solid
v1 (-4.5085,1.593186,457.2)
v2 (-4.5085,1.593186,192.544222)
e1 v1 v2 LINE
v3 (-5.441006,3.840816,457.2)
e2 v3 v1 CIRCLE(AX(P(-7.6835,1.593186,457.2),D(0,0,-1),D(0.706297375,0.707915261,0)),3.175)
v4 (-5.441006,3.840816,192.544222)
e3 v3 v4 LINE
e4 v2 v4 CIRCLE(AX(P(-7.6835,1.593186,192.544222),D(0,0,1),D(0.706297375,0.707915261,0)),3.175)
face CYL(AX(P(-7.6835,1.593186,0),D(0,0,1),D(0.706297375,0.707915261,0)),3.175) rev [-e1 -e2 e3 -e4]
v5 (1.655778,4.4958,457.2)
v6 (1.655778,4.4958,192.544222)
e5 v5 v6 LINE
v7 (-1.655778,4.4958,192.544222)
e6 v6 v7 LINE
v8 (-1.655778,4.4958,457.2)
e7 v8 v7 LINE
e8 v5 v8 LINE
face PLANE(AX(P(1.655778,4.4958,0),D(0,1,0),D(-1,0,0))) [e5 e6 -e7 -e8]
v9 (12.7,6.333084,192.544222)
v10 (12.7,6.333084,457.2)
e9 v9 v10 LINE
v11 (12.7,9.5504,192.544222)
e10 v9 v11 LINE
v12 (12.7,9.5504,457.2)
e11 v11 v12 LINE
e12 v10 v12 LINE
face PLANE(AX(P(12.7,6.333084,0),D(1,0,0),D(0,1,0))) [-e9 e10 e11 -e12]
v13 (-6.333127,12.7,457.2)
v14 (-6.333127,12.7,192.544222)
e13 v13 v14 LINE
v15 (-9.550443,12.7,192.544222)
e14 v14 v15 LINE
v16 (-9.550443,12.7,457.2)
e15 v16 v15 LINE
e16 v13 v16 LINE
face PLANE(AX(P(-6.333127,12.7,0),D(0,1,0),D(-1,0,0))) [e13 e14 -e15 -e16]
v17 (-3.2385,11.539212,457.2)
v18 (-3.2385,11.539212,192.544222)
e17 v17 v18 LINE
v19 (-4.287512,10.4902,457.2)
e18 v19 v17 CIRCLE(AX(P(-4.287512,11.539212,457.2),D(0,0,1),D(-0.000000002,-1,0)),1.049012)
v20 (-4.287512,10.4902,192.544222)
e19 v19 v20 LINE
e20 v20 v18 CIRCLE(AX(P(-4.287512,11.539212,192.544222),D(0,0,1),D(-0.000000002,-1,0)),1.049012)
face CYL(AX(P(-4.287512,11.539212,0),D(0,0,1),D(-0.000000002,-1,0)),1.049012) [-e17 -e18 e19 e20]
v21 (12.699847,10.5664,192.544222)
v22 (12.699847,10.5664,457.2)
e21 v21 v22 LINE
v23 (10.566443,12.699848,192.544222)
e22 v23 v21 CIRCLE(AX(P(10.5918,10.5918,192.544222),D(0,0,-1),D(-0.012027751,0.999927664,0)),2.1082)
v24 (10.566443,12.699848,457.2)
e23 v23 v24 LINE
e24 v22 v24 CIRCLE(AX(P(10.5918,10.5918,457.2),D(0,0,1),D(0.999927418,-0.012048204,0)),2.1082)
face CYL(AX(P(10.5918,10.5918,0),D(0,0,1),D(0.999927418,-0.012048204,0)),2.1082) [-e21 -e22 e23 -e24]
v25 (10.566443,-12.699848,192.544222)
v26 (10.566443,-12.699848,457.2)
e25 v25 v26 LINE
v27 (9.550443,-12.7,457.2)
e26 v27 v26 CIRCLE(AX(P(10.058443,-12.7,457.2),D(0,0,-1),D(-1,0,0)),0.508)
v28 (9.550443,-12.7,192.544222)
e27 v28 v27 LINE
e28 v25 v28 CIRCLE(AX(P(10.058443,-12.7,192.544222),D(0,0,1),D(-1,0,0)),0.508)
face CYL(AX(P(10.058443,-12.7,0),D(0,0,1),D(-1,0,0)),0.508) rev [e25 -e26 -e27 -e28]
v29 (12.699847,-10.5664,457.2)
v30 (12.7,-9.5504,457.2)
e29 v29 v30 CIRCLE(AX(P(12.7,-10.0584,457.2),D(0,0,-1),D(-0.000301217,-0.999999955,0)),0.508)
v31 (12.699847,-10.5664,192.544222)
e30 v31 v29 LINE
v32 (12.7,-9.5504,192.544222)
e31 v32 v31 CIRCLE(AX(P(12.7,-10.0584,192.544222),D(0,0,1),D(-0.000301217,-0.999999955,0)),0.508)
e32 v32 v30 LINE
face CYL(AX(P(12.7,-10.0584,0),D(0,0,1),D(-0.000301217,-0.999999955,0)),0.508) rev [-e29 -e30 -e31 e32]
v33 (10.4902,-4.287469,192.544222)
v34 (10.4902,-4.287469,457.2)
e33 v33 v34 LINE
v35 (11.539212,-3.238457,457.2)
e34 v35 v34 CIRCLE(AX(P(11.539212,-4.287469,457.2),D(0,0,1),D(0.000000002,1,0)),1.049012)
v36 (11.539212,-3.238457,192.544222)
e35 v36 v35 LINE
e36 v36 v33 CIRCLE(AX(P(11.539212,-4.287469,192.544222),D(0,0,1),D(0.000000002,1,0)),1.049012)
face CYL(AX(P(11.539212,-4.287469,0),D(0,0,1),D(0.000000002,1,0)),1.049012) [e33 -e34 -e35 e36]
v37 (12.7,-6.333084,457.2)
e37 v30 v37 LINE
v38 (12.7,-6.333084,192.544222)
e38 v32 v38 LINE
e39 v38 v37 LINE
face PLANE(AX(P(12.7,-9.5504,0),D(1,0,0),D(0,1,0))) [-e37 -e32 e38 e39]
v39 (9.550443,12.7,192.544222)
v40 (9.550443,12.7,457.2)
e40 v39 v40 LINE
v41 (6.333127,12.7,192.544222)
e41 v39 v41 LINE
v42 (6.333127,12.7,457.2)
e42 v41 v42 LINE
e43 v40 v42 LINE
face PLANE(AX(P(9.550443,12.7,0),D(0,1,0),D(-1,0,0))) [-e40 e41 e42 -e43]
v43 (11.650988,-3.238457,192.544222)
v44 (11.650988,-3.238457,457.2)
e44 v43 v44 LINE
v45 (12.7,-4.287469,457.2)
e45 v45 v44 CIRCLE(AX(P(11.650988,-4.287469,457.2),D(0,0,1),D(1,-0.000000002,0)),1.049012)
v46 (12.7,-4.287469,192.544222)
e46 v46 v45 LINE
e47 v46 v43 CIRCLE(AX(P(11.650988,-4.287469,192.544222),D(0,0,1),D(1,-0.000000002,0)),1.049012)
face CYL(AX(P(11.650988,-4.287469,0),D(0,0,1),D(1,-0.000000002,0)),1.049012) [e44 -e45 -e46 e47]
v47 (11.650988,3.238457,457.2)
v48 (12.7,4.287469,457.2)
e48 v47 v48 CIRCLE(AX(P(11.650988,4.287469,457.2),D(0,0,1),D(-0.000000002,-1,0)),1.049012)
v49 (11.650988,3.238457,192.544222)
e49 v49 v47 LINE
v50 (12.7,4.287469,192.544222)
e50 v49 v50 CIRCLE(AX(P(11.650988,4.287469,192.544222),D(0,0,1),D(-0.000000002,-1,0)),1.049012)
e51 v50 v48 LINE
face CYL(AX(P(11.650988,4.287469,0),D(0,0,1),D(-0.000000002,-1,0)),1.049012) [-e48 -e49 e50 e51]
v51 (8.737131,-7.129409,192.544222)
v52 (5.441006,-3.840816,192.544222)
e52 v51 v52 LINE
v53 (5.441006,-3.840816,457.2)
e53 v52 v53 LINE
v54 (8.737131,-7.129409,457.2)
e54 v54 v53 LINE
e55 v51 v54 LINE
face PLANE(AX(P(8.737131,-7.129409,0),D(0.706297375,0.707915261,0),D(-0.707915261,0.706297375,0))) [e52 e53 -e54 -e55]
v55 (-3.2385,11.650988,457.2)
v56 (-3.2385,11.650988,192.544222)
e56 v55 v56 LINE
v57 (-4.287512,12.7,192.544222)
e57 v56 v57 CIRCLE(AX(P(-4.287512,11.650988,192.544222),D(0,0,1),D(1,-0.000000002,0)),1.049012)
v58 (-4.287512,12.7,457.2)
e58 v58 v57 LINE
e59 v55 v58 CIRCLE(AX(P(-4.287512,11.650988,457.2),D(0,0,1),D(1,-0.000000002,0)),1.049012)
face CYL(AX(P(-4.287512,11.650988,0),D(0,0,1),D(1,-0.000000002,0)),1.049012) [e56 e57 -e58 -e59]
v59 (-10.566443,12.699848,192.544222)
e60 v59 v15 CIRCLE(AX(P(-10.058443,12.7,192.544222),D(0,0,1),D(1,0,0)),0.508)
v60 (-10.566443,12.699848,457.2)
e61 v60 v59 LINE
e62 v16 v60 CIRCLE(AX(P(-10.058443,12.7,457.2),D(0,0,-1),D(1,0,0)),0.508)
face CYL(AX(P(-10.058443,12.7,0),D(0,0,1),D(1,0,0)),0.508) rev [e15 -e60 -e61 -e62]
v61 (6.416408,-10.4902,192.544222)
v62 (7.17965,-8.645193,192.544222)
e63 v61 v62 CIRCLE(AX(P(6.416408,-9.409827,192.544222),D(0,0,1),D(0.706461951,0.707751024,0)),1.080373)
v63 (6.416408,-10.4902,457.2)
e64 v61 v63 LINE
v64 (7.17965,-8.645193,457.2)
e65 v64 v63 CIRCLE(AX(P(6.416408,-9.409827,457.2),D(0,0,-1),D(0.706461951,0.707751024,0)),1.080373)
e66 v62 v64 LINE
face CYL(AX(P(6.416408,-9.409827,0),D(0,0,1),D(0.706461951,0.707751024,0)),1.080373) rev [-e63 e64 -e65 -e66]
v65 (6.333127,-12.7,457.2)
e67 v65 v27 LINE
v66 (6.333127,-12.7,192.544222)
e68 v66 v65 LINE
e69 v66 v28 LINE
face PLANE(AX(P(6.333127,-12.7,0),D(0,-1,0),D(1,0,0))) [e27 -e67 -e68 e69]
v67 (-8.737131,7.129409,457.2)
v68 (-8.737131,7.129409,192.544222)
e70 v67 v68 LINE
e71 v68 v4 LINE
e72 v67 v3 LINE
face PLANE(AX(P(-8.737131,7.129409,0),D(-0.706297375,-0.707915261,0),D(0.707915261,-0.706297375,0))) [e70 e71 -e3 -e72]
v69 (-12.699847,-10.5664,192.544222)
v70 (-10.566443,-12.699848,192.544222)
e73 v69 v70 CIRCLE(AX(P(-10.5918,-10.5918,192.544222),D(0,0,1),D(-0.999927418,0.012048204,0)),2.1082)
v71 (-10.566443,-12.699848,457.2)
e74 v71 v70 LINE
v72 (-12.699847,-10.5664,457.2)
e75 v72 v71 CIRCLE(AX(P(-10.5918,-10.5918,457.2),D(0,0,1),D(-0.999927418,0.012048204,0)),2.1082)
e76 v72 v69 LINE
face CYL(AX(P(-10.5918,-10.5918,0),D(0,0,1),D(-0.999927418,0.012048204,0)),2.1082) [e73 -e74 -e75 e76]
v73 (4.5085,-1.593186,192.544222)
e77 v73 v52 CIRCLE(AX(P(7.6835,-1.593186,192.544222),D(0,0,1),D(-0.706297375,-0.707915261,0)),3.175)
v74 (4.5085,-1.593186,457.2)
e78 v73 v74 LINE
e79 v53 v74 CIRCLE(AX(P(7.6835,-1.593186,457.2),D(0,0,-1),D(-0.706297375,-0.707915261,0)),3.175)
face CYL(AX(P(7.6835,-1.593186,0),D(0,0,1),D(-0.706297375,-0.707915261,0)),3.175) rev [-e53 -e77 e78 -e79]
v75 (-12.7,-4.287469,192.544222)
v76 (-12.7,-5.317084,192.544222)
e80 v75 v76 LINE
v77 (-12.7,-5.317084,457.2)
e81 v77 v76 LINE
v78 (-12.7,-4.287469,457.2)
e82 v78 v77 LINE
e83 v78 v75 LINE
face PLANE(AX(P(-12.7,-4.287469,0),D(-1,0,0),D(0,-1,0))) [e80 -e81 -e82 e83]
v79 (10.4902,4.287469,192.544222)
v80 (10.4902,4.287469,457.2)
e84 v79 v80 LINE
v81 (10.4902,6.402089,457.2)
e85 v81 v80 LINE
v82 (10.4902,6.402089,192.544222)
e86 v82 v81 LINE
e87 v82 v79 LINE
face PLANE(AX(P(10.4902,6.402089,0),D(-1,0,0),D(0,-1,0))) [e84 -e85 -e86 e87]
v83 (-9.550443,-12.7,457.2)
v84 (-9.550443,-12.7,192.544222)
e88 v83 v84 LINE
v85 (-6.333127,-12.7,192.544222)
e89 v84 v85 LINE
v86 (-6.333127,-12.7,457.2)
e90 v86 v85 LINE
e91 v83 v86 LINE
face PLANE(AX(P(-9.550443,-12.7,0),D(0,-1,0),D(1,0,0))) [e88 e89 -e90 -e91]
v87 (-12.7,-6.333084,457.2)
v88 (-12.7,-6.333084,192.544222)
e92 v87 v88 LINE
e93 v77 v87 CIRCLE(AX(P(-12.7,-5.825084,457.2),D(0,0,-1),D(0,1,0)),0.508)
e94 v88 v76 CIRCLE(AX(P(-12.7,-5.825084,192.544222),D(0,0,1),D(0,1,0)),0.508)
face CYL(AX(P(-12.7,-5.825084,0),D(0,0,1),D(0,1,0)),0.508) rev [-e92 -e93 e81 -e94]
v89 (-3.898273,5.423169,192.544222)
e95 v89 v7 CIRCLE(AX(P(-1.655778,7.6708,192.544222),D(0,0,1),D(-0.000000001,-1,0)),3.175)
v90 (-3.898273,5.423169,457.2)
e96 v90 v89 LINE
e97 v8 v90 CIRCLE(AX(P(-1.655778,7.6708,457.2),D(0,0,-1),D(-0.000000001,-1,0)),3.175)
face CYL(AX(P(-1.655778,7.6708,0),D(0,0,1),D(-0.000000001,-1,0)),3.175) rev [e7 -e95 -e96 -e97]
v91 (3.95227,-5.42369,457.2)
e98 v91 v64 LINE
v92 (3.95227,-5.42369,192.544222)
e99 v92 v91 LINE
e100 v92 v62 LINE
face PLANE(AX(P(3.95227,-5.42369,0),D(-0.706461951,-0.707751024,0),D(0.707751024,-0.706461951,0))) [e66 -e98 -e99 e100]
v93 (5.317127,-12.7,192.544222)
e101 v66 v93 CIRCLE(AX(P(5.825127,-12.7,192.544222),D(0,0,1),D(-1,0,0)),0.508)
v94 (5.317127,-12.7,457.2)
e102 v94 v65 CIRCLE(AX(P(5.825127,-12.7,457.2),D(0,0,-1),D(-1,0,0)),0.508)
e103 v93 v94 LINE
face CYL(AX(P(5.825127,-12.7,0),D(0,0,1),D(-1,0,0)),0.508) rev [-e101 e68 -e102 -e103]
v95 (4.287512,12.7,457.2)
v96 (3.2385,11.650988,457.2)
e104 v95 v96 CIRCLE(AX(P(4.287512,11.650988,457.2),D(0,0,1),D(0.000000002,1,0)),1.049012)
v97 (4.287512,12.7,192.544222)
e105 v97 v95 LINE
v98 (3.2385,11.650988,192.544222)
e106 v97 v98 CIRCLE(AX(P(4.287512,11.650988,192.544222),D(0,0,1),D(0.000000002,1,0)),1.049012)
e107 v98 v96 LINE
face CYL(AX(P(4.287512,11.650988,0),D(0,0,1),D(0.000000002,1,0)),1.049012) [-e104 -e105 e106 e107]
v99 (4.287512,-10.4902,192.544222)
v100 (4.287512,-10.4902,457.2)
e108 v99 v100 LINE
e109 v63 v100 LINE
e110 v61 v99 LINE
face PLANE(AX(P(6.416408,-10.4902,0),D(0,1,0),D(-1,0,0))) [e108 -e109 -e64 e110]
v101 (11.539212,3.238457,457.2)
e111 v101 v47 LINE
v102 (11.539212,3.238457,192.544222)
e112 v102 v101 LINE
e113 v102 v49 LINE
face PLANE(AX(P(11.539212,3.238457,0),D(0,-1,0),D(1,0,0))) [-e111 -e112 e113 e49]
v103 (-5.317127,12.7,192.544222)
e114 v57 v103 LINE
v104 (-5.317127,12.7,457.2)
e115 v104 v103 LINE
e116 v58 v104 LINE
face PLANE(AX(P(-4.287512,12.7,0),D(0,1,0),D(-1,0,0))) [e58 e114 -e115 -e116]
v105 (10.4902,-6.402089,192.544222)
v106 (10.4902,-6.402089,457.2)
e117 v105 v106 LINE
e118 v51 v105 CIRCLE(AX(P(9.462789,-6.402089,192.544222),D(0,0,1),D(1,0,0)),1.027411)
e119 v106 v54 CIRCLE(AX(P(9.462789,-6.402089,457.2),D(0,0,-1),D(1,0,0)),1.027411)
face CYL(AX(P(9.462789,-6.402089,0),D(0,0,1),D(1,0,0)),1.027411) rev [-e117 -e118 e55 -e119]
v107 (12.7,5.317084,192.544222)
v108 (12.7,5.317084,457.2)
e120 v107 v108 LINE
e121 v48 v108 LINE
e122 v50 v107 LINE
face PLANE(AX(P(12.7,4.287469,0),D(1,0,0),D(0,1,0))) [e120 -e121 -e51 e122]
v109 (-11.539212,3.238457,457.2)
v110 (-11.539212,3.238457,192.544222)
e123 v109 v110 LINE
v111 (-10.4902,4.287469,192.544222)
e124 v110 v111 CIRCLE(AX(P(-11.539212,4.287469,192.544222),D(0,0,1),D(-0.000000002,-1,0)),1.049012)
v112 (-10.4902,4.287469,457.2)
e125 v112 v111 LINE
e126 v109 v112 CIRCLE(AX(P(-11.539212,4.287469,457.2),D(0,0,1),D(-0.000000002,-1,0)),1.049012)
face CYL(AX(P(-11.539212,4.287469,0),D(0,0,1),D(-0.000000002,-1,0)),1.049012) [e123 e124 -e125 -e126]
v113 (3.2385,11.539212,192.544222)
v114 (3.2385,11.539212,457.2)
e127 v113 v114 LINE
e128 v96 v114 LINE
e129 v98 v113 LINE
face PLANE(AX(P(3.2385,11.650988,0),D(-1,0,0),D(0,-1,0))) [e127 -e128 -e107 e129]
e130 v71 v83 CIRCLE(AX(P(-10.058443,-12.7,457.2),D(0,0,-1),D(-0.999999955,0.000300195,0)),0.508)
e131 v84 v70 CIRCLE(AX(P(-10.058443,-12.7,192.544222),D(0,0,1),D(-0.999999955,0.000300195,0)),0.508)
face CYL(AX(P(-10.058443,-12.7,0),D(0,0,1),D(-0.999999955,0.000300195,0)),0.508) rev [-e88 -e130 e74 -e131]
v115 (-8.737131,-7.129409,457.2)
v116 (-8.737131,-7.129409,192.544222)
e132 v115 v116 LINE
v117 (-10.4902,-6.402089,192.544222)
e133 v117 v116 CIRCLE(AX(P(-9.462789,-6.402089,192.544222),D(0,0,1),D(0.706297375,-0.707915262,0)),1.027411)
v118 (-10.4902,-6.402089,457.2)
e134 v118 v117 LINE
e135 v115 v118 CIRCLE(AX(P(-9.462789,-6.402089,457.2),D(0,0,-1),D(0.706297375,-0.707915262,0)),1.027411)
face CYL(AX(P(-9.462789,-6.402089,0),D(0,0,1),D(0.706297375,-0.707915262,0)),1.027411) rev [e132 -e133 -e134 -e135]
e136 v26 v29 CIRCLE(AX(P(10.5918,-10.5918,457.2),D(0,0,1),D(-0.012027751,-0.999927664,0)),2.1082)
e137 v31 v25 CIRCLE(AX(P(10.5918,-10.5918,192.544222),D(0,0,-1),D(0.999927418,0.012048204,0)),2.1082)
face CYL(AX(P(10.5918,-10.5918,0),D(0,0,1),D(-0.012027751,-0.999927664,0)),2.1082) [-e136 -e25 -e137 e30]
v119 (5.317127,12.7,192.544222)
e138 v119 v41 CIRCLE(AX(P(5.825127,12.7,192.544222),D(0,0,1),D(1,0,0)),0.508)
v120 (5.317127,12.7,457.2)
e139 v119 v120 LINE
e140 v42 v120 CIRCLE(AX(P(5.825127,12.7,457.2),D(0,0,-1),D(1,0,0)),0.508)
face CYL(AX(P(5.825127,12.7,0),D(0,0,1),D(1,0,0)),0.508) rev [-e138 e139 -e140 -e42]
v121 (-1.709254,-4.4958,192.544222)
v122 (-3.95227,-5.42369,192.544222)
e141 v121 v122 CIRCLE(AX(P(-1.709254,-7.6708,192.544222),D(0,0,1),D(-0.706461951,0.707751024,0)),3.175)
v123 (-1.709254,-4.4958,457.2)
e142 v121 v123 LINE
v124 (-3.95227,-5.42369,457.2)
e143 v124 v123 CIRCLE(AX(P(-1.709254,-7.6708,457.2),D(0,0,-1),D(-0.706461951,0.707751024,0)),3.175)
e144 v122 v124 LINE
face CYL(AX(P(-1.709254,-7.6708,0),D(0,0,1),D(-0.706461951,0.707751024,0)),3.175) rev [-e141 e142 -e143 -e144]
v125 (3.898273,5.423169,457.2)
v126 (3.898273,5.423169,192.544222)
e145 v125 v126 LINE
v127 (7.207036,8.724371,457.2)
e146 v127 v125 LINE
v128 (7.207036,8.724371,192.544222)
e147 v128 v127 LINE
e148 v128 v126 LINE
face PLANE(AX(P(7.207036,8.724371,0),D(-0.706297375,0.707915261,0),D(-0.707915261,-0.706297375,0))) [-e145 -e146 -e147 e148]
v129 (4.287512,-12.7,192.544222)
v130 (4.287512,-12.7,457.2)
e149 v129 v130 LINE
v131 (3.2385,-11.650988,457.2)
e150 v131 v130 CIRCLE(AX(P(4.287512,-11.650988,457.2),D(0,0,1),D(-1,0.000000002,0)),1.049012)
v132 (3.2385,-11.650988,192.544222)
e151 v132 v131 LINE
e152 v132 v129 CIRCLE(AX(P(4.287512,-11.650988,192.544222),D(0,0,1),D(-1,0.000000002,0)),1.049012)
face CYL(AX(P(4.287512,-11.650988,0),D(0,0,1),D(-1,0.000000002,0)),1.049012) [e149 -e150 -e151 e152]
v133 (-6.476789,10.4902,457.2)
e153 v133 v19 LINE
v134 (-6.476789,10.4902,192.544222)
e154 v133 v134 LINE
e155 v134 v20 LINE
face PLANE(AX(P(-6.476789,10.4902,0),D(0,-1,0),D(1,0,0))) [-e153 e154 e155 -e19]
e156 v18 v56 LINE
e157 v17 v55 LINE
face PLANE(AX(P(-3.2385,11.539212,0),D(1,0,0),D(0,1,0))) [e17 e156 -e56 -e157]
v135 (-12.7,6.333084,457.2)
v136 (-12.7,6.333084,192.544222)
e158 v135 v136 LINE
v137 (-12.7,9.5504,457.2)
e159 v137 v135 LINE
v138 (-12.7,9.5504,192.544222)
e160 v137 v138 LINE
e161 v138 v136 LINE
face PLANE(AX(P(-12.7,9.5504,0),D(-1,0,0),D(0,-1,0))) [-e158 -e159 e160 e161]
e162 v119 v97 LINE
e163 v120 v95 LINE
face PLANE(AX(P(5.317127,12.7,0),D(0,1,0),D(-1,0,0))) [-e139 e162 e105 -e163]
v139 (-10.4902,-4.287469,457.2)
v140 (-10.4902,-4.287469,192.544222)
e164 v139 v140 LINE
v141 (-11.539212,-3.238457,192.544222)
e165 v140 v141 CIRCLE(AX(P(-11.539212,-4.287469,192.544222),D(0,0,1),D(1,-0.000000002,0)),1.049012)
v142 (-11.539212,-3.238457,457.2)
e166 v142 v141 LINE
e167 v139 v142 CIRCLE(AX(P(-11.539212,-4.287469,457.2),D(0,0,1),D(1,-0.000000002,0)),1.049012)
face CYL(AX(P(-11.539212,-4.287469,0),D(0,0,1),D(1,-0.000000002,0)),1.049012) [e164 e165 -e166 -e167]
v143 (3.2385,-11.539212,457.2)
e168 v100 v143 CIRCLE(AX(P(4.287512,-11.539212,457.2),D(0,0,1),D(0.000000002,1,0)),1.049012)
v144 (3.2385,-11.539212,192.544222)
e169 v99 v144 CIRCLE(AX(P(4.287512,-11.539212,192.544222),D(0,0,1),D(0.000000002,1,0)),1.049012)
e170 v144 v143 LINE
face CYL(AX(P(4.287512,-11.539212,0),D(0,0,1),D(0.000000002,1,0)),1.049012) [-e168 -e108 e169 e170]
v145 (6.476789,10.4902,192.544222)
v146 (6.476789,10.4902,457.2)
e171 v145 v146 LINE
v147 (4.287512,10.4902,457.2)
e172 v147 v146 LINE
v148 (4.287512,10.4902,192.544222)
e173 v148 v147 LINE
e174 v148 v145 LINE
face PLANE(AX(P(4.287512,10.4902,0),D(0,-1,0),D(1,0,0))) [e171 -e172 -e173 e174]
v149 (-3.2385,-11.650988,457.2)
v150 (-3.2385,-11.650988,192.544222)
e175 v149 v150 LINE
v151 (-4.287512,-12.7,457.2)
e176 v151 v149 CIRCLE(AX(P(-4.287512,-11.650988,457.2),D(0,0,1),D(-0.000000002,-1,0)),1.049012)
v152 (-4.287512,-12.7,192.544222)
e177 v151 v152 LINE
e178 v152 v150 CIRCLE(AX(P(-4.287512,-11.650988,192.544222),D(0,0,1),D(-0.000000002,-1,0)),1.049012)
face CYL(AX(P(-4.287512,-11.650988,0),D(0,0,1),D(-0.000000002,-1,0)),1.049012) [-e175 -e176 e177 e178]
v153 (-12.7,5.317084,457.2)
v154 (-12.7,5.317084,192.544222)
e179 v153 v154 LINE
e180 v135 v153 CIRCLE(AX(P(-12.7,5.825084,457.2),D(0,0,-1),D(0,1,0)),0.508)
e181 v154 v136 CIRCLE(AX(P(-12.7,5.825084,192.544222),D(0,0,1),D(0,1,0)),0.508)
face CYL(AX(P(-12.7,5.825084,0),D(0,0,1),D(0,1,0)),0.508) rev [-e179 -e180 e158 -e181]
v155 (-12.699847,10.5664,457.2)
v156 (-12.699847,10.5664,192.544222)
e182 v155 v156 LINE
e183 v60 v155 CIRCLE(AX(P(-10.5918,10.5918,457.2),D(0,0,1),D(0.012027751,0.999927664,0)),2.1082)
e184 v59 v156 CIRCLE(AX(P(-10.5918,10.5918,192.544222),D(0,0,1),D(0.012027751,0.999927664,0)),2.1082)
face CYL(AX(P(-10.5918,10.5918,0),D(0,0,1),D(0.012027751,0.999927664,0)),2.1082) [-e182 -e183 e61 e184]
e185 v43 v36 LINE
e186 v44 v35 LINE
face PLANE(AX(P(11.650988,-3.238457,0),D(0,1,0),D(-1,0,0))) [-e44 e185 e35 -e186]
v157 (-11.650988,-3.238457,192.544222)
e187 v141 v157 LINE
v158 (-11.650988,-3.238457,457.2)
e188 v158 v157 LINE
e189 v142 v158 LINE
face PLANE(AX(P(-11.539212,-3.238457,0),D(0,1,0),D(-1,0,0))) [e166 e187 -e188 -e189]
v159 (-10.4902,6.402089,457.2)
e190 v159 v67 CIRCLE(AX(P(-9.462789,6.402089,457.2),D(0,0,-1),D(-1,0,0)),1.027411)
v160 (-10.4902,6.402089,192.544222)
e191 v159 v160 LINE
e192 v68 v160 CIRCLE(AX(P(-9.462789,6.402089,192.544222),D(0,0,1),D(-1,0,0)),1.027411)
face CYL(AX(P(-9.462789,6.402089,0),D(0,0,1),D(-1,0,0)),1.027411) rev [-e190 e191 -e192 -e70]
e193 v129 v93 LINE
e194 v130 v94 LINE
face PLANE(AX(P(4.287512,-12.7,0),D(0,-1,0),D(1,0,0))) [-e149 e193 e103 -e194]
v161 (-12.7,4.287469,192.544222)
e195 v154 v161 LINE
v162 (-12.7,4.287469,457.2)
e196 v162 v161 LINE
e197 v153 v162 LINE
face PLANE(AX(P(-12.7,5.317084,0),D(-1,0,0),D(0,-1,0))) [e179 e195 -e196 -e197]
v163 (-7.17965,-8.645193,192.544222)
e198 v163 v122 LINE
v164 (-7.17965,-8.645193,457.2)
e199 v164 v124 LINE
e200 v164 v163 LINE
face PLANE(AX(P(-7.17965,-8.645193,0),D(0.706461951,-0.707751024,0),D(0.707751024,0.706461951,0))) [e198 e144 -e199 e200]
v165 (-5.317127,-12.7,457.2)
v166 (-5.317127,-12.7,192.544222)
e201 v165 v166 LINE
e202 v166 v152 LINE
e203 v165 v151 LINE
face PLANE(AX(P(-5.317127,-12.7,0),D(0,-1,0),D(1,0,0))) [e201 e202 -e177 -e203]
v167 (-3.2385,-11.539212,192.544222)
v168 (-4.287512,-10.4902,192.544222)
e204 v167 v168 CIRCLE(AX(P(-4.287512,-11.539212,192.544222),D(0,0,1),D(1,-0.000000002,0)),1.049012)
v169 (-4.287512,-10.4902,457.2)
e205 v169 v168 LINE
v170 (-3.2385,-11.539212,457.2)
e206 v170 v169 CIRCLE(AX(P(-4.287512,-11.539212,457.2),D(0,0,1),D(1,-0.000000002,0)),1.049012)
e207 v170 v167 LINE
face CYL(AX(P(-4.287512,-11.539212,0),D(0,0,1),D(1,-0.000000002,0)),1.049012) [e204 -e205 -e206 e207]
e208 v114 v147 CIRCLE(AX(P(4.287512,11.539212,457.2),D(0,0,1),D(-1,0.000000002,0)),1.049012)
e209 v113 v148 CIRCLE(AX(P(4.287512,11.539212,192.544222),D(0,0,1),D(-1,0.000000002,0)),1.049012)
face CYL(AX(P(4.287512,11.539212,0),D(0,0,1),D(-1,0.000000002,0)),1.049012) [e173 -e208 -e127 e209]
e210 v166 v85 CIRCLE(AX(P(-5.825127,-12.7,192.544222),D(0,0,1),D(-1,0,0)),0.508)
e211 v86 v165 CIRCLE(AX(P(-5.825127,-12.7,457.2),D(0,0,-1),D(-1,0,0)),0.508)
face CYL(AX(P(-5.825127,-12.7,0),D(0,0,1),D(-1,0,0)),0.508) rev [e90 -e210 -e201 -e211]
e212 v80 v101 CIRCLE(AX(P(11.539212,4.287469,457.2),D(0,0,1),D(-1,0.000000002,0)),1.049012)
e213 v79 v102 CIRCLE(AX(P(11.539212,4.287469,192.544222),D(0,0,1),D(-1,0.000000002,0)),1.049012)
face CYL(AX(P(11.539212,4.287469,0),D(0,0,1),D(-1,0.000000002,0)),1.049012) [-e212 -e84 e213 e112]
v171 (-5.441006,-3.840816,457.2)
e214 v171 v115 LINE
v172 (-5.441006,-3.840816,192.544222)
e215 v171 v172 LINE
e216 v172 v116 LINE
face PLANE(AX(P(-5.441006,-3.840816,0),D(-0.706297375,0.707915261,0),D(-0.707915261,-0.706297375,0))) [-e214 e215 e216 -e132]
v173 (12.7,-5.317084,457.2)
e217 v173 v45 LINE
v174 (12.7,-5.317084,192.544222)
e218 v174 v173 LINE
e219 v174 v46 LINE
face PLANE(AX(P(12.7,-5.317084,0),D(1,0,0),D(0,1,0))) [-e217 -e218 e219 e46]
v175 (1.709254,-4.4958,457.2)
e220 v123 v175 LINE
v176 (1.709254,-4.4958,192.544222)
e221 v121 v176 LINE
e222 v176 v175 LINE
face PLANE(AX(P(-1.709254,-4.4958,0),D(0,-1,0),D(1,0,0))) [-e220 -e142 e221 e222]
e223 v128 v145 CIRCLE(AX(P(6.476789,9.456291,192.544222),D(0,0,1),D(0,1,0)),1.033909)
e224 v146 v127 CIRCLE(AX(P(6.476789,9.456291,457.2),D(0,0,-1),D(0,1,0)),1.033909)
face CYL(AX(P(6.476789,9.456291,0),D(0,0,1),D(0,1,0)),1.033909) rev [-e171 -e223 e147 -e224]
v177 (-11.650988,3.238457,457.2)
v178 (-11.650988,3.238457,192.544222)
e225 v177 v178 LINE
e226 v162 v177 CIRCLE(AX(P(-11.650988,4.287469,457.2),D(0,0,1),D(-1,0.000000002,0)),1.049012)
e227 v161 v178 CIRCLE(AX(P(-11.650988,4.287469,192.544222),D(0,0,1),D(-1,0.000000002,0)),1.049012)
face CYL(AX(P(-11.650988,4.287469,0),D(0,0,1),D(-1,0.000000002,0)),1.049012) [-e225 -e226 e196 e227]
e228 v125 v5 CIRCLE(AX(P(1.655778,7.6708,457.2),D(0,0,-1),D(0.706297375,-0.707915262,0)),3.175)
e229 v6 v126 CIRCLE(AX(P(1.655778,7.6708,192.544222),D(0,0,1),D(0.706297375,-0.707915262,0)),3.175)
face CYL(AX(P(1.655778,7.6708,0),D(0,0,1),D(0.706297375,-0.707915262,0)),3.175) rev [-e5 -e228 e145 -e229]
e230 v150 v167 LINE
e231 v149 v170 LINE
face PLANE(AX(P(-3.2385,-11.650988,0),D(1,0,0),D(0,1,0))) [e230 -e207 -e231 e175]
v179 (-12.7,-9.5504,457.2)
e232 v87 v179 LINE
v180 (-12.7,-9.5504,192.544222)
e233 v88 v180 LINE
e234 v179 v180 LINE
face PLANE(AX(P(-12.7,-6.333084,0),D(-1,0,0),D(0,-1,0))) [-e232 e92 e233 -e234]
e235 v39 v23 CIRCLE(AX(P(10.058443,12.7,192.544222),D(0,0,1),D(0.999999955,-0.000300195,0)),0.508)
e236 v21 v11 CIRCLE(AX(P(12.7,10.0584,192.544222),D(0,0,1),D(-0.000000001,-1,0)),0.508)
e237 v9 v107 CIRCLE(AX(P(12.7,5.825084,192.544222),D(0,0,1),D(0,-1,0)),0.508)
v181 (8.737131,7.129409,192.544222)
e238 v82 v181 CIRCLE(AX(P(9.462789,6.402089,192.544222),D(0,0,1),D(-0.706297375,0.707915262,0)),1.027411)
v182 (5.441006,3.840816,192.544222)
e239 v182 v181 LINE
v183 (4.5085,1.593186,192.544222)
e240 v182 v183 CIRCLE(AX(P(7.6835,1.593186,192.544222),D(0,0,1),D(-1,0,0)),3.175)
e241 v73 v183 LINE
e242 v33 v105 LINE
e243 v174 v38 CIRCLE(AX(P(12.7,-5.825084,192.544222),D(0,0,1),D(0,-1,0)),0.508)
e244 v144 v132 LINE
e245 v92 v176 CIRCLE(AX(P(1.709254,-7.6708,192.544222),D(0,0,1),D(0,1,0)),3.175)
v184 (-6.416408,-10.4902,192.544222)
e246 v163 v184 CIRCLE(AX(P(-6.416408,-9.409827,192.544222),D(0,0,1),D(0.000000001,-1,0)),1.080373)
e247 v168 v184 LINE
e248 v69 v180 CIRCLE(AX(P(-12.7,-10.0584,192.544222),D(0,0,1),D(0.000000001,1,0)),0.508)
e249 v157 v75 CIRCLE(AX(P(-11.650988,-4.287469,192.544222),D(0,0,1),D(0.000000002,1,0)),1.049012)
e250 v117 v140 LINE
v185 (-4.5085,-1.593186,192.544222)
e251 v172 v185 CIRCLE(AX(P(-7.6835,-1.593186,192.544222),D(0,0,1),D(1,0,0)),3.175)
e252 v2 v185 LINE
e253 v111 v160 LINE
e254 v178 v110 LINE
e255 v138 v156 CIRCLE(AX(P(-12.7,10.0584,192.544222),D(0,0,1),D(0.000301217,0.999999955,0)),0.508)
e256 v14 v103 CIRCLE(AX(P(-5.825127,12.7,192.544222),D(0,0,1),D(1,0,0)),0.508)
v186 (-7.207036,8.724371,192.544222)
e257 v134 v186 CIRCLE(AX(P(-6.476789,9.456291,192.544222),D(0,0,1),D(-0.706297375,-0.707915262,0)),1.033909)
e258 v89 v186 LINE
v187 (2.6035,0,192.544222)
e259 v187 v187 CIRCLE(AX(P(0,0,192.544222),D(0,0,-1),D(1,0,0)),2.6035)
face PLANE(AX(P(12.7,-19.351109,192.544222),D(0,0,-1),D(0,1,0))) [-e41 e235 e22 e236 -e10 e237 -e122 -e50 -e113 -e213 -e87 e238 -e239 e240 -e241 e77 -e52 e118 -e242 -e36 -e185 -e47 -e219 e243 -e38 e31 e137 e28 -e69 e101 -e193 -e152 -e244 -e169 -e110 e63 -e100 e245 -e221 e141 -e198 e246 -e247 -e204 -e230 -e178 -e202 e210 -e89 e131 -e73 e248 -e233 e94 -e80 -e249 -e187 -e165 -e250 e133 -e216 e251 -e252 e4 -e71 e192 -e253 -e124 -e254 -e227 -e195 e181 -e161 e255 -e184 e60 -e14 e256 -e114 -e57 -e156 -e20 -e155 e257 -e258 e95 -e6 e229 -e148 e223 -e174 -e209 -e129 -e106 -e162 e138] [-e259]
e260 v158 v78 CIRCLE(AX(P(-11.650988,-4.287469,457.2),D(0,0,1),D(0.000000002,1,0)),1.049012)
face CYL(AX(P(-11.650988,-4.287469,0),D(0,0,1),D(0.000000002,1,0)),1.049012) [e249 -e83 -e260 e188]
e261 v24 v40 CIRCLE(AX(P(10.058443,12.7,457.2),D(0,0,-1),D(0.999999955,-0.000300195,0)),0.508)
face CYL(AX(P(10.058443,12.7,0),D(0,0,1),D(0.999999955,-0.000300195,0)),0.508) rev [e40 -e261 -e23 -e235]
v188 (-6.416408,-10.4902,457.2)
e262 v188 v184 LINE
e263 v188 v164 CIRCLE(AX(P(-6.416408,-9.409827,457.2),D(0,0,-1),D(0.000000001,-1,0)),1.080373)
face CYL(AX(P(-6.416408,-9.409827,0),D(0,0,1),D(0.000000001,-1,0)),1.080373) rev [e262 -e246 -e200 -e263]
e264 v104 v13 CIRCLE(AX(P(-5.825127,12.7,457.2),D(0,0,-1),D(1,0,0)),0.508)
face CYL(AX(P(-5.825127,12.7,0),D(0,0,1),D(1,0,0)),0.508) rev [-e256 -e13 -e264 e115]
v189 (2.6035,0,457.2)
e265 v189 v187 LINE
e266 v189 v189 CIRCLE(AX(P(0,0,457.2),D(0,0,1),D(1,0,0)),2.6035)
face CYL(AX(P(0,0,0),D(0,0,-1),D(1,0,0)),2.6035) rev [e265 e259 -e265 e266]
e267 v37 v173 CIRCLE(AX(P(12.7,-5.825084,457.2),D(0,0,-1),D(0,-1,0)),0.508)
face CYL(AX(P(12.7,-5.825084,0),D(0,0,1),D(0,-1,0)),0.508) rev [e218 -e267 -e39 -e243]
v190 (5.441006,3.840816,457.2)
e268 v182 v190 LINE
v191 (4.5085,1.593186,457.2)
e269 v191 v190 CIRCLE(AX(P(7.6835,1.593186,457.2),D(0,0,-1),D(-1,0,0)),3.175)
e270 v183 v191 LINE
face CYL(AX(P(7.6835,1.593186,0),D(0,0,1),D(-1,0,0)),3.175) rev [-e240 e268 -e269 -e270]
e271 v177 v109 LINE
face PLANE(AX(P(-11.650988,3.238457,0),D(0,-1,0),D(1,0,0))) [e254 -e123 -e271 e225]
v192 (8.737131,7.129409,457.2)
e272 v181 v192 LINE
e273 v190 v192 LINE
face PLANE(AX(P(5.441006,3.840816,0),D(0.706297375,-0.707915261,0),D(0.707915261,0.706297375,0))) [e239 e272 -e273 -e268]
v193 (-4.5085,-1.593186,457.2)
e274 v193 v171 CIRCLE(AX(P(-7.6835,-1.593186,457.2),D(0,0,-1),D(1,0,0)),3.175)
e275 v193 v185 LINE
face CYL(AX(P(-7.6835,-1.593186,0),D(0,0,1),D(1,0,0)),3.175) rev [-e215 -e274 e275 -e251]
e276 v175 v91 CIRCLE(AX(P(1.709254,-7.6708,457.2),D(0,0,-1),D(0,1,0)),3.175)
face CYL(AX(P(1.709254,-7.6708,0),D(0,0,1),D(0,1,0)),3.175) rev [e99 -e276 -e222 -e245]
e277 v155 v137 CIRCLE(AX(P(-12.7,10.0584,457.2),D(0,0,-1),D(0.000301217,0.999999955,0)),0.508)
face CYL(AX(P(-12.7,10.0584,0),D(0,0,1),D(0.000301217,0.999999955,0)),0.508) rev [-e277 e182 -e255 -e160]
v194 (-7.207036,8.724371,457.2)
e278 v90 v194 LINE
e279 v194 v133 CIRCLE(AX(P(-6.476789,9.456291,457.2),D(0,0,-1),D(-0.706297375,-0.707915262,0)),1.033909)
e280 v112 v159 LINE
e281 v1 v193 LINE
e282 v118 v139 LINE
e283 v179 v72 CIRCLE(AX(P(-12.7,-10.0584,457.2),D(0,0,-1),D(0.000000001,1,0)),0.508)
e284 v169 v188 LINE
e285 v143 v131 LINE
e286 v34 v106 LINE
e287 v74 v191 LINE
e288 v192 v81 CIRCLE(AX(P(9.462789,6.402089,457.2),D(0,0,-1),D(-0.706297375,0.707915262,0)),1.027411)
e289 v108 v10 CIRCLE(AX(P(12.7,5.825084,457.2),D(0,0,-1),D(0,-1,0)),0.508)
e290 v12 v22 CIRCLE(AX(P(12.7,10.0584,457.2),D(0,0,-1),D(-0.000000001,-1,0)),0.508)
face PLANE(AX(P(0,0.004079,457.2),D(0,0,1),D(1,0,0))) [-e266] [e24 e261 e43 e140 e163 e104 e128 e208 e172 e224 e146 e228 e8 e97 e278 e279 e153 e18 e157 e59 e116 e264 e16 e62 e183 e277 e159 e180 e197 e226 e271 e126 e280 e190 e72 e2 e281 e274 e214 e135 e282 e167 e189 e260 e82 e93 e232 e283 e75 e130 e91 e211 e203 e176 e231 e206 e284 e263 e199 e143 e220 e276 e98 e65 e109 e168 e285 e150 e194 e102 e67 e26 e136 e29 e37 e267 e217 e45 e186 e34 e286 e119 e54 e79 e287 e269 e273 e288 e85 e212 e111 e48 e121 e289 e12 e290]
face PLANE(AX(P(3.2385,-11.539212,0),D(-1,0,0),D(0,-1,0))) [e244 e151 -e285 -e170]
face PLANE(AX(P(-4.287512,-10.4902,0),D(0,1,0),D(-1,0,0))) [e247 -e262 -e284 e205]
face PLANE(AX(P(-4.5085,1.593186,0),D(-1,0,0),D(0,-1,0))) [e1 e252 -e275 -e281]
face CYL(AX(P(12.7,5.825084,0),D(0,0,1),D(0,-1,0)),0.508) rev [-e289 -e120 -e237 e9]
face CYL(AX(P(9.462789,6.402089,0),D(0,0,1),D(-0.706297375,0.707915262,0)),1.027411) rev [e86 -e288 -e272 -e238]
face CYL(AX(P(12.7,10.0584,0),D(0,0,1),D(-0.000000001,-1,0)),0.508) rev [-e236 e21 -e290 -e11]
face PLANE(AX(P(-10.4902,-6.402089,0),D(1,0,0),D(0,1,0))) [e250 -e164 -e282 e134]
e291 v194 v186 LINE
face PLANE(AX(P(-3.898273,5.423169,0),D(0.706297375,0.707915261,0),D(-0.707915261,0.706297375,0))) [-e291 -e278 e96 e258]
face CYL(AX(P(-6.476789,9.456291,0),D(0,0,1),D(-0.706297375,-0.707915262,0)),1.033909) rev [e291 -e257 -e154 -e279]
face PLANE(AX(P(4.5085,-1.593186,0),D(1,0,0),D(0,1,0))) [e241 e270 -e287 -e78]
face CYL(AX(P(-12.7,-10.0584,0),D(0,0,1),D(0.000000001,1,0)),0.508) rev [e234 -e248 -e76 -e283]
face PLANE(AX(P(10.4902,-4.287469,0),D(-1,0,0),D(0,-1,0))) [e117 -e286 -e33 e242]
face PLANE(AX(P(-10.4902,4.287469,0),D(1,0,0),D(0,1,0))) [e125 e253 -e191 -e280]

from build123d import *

# Parameters (mm, degrees)
SKETCH1_R               = 2.6035
BOSS_EXTRUDE1_DEPTH     = 457.2
CUT_EXTRUDE2_DEPTH      = 4.318
CUT_EXTRUDE2_DEPTH_BACK = 26.924
SKETCH5_W               = 400.863196081
SKETCH5_H               = 43.327238712
CUT_EXTRUDE3_DEPTH      = 26.4


with BuildPart() as part:
    # Sketch1 → Boss-Extrude1 (new body, symmetric)
    with BuildSketch(Plane.XY):
        with BuildLine():
            Line((-7.179650497, -8.645192506), (-3.952270251, -5.423690499))
            ThreePointArc((-3.952270251, -5.423690499), (-2.922936451, -4.736929036), (-1.709253557, -4.4958))
            Line((-1.709253557, -4.4958), (1.709253557, -4.4958))
            ThreePointArc((1.709253557, -4.4958), (2.922936451, -4.736929036), (3.952270251, -5.423690499))
            Line((3.952270251, -5.423690499), (7.179650497, -8.645192506))
            ThreePointArc((7.179650497, -8.645192506), (7.41473083, -9.822813117), (6.416408329, -10.4902))
            Line((6.416408329, -10.4902), (4.287512407, -10.4902))
            ThreePointArc((4.287512407, -10.4902), (3.54574862, -10.79744862), (3.2385, -11.539212407))
            Line((3.2385, -11.539212407), (3.2385, -11.650987593))
            ThreePointArc((3.2385, -11.650987593), (3.54574862, -12.39275138), (4.287512407, -12.7))
            Line((4.287512407, -12.7), (5.317126718, -12.7))
            ThreePointArc((5.317126718, -12.7), (5.825126718, -12.192), (6.333126718, -12.7))
            Line((6.333126718, -12.7), (9.550443118, -12.7))
            ThreePointArc((9.550443118, -12.7), (10.058366869, -12.192000006), (10.566443095, -12.699847501))
            ThreePointArc((10.566443095, -12.699847501), (12.082537762, -12.08250727), (12.699846982, -10.566399977))
            ThreePointArc((12.699846982, -10.566399977), (12.192000006, -10.058323491), (12.7, -9.5504))
            Line((12.7, -9.5504), (12.7, -6.3330836))
            ThreePointArc((12.7, -6.3330836), (12.192, -5.8250836), (12.7, -5.3170836))
            Line((12.7, -5.3170836), (12.7, -4.287469289))
            ThreePointArc((12.7, -4.287469289), (12.39275138, -3.545705502), (11.650987593, -3.238456882))
            Line((11.650987593, -3.238456882), (11.539212407, -3.238456882))
            ThreePointArc((11.539212407, -3.238456882), (10.79744862, -3.545705502), (10.4902, -4.287469289))
            Line((10.4902, -4.287469289), (10.4902, -6.402089023))
            ThreePointArc((10.4902, -6.402089023), (9.856505071, -7.351067942), (8.737131347, -7.129408934))
            Line((8.737131347, -7.129408934), (5.441005833, -3.840816462))
            ThreePointArc((5.441005833, -3.840816462), (4.750877967, -2.809883091), (4.5085, -1.593185507))
            Line((4.5085, -1.593185507), (4.5085, 1.593185507))
            ThreePointArc((4.5085, 1.593185507), (4.750877967, 2.809883091), (5.441005833, 3.840816462))
            Line((5.441005833, 3.840816462), (8.737131347, 7.129408934))
            ThreePointArc((8.737131347, 7.129408934), (9.856505071, 7.351067942), (10.4902, 6.402089023))
            Line((10.4902, 6.402089023), (10.4902, 4.287469289))
            ThreePointArc((10.4902, 4.287469289), (10.79744862, 3.545705502), (11.539212407, 3.238456882))
            Line((11.539212407, 3.238456882), (11.650987593, 3.238456882))
            ThreePointArc((11.650987593, 3.238456882), (12.39275138, 3.545705502), (12.7, 4.287469289))
            Line((12.7, 4.287469289), (12.7, 5.3170836))
            ThreePointArc((12.7, 5.3170836), (12.192, 5.8250836), (12.7, 6.3330836))
            Line((12.7, 6.3330836), (12.7, 9.5504))
            ThreePointArc((12.7, 9.5504), (12.192000006, 10.058323491), (12.699846982, 10.566399977))
            ThreePointArc((12.699846982, 10.566399977), (12.082537762, 12.08250727), (10.566443095, 12.699847501))
            ThreePointArc((10.566443095, 12.699847501), (10.058366869, 12.192000006), (9.550443118, 12.7))
            Line((9.550443118, 12.7), (6.333126718, 12.7))
            ThreePointArc((6.333126718, 12.7), (5.825126718, 12.192), (5.317126718, 12.7))
            Line((5.317126718, 12.7), (4.287512407, 12.7))
            ThreePointArc((4.287512407, 12.7), (3.54574862, 12.39275138), (3.2385, 11.650987593))
            Line((3.2385, 11.650987593), (3.2385, 11.539212407))
            ThreePointArc((3.2385, 11.539212407), (3.54574862, 10.79744862), (4.287512407, 10.4902))
            Line((4.287512407, 10.4902), (6.476788598, 10.4902))
            ThreePointArc((6.476788598, 10.4902), (7.432222385, 9.85140422), (7.207036008, 8.724370562))
            Line((7.207036008, 8.724370562), (3.898272566, 5.423169045))
            ThreePointArc((3.898272566, 5.423169045), (2.869120213, 4.736787962), (1.655778399, 4.4958))
            Line((1.655778399, 4.4958), (-1.655778399, 4.4958))
            ThreePointArc((-1.655778399, 4.4958), (-2.869120213, 4.736787962), (-3.898272566, 5.423169045))
            Line((-3.898272566, 5.423169045), (-7.207036008, 8.724370562))
            ThreePointArc((-7.207036008, 8.724370562), (-7.432222385, 9.85140422), (-6.476788598, 10.4902))
            Line((-6.476788598, 10.4902), (-4.287512407, 10.4902))
            ThreePointArc((-4.287512407, 10.4902), (-3.54574862, 10.79744862), (-3.2385, 11.539212407))
            Line((-3.2385, 11.539212407), (-3.2385, 11.650987593))
            ThreePointArc((-3.2385, 11.650987593), (-3.54574862, 12.39275138), (-4.287512407, 12.7))
            Line((-4.287512407, 12.7), (-5.317126718, 12.7))
            ThreePointArc((-5.317126718, 12.7), (-5.825126718, 12.192), (-6.333126718, 12.7))
            Line((-6.333126718, 12.7), (-9.550443118, 12.7))
            ThreePointArc((-9.550443118, 12.7), (-10.058366869, 12.192000006), (-10.566443095, 12.699847501))
            ThreePointArc((-10.566443095, 12.699847501), (-12.082537762, 12.08250727), (-12.699846982, 10.566399977))
            ThreePointArc((-12.699846982, 10.566399977), (-12.192000006, 10.058323491), (-12.7, 9.5504))
            Line((-12.7, 9.5504), (-12.7, 6.3330836))
            ThreePointArc((-12.7, 6.3330836), (-12.192, 5.8250836), (-12.7, 5.3170836))
            Line((-12.7, 5.3170836), (-12.7, 4.287469289))
            ThreePointArc((-12.7, 4.287469289), (-12.39275138, 3.545705502), (-11.650987593, 3.238456882))
            Line((-11.650987593, 3.238456882), (-11.539212407, 3.238456882))
            ThreePointArc((-11.539212407, 3.238456882), (-10.79744862, 3.545705502), (-10.4902, 4.287469289))
            Line((-10.4902, 4.287469289), (-10.4902, 6.402089023))
            ThreePointArc((-10.4902, 6.402089023), (-9.856505071, 7.351067942), (-8.737131347, 7.129408934))
            Line((-8.737131347, 7.129408934), (-5.441005833, 3.840816462))
            ThreePointArc((-5.441005833, 3.840816462), (-4.750877967, 2.809883091), (-4.5085, 1.593185507))
            Line((-4.5085, 1.593185507), (-4.5085, -1.593185507))
            ThreePointArc((-4.5085, -1.593185507), (-4.750877967, -2.809883091), (-5.441005833, -3.840816462))
            Line((-5.441005833, -3.840816462), (-8.737131347, -7.129408934))
            ThreePointArc((-8.737131347, -7.129408934), (-9.856505071, -7.351067942), (-10.4902, -6.402089023))
            Line((-10.4902, -6.402089023), (-10.4902, -4.287469289))
            ThreePointArc((-10.4902, -4.287469289), (-10.79744862, -3.545705502), (-11.539212407, -3.238456882))
            Line((-11.539212407, -3.238456882), (-11.650987593, -3.238456882))
            ThreePointArc((-11.650987593, -3.238456882), (-12.39275138, -3.545705502), (-12.7, -4.287469289))
            Line((-12.7, -4.287469289), (-12.7, -5.3170836))
            ThreePointArc((-12.7, -5.3170836), (-12.192, -5.8250836), (-12.7, -6.3330836))
            Line((-12.7, -6.3330836), (-12.7, -9.5504))
            ThreePointArc((-12.7, -9.5504), (-12.192000006, -10.058323491), (-12.699846982, -10.566399977))
            ThreePointArc((-12.699846982, -10.566399977), (-12.082537762, -12.08250727), (-10.566443095, -12.699847501))
            ThreePointArc((-10.566443095, -12.699847501), (-10.058366869, -12.192000006), (-9.550443118, -12.7))
            Line((-9.550443118, -12.7), (-6.333126718, -12.7))
            ThreePointArc((-6.333126718, -12.7), (-5.825126718, -12.192), (-5.317126718, -12.7))
            Line((-5.317126718, -12.7), (-4.287512407, -12.7))
            ThreePointArc((-4.287512407, -12.7), (-3.54574862, -12.39275138), (-3.2385, -11.650987593))
            Line((-3.2385, -11.650987593), (-3.2385, -11.539212407))
            ThreePointArc((-3.2385, -11.539212407), (-3.54574862, -10.79744862), (-4.287512407, -10.4902))
            Line((-4.287512407, -10.4902), (-6.416408329, -10.4902))
            ThreePointArc((-6.416408329, -10.4902), (-7.41473083, -9.822813117), (-7.179650497, -8.645192506))
        make_face()
        Circle(SKETCH1_R, mode=Mode.SUBTRACT)
    extrude(amount=BOSS_EXTRUDE1_DEPTH, both=True)

    # Sketch3 → Cut-Extrude2 (cut, two sides)
    with BuildSketch(Plane.ZY.offset(12.7)) as cut_extrude2_sk:
        Polygon((-203.2, -27.552777595), (-203.2, 21.158109763), (-461.090893327, 21.158109763), (-461.090893327, -25.4), align=None)
    extrude(amount=CUT_EXTRUDE2_DEPTH, mode=Mode.SUBTRACT)
    extrude(cut_extrude2_sk.sketch, amount=-CUT_EXTRUDE2_DEPTH_BACK, mode=Mode.SUBTRACT)

    # Sketch5 → Cut-Extrude3 (cut, through all)
    with BuildSketch(Plane(origin=(12.7, 0, 0), x_dir=(0, 0, -1), z_dir=(1, 0, 0))):
        with Locations((7.887376468, 2.312510515)):
            Rectangle(SKETCH5_W, SKETCH5_H)
    extrude(amount=-CUT_EXTRUDE3_DEPTH, mode=Mode.SUBTRACT)


solid = part.part
